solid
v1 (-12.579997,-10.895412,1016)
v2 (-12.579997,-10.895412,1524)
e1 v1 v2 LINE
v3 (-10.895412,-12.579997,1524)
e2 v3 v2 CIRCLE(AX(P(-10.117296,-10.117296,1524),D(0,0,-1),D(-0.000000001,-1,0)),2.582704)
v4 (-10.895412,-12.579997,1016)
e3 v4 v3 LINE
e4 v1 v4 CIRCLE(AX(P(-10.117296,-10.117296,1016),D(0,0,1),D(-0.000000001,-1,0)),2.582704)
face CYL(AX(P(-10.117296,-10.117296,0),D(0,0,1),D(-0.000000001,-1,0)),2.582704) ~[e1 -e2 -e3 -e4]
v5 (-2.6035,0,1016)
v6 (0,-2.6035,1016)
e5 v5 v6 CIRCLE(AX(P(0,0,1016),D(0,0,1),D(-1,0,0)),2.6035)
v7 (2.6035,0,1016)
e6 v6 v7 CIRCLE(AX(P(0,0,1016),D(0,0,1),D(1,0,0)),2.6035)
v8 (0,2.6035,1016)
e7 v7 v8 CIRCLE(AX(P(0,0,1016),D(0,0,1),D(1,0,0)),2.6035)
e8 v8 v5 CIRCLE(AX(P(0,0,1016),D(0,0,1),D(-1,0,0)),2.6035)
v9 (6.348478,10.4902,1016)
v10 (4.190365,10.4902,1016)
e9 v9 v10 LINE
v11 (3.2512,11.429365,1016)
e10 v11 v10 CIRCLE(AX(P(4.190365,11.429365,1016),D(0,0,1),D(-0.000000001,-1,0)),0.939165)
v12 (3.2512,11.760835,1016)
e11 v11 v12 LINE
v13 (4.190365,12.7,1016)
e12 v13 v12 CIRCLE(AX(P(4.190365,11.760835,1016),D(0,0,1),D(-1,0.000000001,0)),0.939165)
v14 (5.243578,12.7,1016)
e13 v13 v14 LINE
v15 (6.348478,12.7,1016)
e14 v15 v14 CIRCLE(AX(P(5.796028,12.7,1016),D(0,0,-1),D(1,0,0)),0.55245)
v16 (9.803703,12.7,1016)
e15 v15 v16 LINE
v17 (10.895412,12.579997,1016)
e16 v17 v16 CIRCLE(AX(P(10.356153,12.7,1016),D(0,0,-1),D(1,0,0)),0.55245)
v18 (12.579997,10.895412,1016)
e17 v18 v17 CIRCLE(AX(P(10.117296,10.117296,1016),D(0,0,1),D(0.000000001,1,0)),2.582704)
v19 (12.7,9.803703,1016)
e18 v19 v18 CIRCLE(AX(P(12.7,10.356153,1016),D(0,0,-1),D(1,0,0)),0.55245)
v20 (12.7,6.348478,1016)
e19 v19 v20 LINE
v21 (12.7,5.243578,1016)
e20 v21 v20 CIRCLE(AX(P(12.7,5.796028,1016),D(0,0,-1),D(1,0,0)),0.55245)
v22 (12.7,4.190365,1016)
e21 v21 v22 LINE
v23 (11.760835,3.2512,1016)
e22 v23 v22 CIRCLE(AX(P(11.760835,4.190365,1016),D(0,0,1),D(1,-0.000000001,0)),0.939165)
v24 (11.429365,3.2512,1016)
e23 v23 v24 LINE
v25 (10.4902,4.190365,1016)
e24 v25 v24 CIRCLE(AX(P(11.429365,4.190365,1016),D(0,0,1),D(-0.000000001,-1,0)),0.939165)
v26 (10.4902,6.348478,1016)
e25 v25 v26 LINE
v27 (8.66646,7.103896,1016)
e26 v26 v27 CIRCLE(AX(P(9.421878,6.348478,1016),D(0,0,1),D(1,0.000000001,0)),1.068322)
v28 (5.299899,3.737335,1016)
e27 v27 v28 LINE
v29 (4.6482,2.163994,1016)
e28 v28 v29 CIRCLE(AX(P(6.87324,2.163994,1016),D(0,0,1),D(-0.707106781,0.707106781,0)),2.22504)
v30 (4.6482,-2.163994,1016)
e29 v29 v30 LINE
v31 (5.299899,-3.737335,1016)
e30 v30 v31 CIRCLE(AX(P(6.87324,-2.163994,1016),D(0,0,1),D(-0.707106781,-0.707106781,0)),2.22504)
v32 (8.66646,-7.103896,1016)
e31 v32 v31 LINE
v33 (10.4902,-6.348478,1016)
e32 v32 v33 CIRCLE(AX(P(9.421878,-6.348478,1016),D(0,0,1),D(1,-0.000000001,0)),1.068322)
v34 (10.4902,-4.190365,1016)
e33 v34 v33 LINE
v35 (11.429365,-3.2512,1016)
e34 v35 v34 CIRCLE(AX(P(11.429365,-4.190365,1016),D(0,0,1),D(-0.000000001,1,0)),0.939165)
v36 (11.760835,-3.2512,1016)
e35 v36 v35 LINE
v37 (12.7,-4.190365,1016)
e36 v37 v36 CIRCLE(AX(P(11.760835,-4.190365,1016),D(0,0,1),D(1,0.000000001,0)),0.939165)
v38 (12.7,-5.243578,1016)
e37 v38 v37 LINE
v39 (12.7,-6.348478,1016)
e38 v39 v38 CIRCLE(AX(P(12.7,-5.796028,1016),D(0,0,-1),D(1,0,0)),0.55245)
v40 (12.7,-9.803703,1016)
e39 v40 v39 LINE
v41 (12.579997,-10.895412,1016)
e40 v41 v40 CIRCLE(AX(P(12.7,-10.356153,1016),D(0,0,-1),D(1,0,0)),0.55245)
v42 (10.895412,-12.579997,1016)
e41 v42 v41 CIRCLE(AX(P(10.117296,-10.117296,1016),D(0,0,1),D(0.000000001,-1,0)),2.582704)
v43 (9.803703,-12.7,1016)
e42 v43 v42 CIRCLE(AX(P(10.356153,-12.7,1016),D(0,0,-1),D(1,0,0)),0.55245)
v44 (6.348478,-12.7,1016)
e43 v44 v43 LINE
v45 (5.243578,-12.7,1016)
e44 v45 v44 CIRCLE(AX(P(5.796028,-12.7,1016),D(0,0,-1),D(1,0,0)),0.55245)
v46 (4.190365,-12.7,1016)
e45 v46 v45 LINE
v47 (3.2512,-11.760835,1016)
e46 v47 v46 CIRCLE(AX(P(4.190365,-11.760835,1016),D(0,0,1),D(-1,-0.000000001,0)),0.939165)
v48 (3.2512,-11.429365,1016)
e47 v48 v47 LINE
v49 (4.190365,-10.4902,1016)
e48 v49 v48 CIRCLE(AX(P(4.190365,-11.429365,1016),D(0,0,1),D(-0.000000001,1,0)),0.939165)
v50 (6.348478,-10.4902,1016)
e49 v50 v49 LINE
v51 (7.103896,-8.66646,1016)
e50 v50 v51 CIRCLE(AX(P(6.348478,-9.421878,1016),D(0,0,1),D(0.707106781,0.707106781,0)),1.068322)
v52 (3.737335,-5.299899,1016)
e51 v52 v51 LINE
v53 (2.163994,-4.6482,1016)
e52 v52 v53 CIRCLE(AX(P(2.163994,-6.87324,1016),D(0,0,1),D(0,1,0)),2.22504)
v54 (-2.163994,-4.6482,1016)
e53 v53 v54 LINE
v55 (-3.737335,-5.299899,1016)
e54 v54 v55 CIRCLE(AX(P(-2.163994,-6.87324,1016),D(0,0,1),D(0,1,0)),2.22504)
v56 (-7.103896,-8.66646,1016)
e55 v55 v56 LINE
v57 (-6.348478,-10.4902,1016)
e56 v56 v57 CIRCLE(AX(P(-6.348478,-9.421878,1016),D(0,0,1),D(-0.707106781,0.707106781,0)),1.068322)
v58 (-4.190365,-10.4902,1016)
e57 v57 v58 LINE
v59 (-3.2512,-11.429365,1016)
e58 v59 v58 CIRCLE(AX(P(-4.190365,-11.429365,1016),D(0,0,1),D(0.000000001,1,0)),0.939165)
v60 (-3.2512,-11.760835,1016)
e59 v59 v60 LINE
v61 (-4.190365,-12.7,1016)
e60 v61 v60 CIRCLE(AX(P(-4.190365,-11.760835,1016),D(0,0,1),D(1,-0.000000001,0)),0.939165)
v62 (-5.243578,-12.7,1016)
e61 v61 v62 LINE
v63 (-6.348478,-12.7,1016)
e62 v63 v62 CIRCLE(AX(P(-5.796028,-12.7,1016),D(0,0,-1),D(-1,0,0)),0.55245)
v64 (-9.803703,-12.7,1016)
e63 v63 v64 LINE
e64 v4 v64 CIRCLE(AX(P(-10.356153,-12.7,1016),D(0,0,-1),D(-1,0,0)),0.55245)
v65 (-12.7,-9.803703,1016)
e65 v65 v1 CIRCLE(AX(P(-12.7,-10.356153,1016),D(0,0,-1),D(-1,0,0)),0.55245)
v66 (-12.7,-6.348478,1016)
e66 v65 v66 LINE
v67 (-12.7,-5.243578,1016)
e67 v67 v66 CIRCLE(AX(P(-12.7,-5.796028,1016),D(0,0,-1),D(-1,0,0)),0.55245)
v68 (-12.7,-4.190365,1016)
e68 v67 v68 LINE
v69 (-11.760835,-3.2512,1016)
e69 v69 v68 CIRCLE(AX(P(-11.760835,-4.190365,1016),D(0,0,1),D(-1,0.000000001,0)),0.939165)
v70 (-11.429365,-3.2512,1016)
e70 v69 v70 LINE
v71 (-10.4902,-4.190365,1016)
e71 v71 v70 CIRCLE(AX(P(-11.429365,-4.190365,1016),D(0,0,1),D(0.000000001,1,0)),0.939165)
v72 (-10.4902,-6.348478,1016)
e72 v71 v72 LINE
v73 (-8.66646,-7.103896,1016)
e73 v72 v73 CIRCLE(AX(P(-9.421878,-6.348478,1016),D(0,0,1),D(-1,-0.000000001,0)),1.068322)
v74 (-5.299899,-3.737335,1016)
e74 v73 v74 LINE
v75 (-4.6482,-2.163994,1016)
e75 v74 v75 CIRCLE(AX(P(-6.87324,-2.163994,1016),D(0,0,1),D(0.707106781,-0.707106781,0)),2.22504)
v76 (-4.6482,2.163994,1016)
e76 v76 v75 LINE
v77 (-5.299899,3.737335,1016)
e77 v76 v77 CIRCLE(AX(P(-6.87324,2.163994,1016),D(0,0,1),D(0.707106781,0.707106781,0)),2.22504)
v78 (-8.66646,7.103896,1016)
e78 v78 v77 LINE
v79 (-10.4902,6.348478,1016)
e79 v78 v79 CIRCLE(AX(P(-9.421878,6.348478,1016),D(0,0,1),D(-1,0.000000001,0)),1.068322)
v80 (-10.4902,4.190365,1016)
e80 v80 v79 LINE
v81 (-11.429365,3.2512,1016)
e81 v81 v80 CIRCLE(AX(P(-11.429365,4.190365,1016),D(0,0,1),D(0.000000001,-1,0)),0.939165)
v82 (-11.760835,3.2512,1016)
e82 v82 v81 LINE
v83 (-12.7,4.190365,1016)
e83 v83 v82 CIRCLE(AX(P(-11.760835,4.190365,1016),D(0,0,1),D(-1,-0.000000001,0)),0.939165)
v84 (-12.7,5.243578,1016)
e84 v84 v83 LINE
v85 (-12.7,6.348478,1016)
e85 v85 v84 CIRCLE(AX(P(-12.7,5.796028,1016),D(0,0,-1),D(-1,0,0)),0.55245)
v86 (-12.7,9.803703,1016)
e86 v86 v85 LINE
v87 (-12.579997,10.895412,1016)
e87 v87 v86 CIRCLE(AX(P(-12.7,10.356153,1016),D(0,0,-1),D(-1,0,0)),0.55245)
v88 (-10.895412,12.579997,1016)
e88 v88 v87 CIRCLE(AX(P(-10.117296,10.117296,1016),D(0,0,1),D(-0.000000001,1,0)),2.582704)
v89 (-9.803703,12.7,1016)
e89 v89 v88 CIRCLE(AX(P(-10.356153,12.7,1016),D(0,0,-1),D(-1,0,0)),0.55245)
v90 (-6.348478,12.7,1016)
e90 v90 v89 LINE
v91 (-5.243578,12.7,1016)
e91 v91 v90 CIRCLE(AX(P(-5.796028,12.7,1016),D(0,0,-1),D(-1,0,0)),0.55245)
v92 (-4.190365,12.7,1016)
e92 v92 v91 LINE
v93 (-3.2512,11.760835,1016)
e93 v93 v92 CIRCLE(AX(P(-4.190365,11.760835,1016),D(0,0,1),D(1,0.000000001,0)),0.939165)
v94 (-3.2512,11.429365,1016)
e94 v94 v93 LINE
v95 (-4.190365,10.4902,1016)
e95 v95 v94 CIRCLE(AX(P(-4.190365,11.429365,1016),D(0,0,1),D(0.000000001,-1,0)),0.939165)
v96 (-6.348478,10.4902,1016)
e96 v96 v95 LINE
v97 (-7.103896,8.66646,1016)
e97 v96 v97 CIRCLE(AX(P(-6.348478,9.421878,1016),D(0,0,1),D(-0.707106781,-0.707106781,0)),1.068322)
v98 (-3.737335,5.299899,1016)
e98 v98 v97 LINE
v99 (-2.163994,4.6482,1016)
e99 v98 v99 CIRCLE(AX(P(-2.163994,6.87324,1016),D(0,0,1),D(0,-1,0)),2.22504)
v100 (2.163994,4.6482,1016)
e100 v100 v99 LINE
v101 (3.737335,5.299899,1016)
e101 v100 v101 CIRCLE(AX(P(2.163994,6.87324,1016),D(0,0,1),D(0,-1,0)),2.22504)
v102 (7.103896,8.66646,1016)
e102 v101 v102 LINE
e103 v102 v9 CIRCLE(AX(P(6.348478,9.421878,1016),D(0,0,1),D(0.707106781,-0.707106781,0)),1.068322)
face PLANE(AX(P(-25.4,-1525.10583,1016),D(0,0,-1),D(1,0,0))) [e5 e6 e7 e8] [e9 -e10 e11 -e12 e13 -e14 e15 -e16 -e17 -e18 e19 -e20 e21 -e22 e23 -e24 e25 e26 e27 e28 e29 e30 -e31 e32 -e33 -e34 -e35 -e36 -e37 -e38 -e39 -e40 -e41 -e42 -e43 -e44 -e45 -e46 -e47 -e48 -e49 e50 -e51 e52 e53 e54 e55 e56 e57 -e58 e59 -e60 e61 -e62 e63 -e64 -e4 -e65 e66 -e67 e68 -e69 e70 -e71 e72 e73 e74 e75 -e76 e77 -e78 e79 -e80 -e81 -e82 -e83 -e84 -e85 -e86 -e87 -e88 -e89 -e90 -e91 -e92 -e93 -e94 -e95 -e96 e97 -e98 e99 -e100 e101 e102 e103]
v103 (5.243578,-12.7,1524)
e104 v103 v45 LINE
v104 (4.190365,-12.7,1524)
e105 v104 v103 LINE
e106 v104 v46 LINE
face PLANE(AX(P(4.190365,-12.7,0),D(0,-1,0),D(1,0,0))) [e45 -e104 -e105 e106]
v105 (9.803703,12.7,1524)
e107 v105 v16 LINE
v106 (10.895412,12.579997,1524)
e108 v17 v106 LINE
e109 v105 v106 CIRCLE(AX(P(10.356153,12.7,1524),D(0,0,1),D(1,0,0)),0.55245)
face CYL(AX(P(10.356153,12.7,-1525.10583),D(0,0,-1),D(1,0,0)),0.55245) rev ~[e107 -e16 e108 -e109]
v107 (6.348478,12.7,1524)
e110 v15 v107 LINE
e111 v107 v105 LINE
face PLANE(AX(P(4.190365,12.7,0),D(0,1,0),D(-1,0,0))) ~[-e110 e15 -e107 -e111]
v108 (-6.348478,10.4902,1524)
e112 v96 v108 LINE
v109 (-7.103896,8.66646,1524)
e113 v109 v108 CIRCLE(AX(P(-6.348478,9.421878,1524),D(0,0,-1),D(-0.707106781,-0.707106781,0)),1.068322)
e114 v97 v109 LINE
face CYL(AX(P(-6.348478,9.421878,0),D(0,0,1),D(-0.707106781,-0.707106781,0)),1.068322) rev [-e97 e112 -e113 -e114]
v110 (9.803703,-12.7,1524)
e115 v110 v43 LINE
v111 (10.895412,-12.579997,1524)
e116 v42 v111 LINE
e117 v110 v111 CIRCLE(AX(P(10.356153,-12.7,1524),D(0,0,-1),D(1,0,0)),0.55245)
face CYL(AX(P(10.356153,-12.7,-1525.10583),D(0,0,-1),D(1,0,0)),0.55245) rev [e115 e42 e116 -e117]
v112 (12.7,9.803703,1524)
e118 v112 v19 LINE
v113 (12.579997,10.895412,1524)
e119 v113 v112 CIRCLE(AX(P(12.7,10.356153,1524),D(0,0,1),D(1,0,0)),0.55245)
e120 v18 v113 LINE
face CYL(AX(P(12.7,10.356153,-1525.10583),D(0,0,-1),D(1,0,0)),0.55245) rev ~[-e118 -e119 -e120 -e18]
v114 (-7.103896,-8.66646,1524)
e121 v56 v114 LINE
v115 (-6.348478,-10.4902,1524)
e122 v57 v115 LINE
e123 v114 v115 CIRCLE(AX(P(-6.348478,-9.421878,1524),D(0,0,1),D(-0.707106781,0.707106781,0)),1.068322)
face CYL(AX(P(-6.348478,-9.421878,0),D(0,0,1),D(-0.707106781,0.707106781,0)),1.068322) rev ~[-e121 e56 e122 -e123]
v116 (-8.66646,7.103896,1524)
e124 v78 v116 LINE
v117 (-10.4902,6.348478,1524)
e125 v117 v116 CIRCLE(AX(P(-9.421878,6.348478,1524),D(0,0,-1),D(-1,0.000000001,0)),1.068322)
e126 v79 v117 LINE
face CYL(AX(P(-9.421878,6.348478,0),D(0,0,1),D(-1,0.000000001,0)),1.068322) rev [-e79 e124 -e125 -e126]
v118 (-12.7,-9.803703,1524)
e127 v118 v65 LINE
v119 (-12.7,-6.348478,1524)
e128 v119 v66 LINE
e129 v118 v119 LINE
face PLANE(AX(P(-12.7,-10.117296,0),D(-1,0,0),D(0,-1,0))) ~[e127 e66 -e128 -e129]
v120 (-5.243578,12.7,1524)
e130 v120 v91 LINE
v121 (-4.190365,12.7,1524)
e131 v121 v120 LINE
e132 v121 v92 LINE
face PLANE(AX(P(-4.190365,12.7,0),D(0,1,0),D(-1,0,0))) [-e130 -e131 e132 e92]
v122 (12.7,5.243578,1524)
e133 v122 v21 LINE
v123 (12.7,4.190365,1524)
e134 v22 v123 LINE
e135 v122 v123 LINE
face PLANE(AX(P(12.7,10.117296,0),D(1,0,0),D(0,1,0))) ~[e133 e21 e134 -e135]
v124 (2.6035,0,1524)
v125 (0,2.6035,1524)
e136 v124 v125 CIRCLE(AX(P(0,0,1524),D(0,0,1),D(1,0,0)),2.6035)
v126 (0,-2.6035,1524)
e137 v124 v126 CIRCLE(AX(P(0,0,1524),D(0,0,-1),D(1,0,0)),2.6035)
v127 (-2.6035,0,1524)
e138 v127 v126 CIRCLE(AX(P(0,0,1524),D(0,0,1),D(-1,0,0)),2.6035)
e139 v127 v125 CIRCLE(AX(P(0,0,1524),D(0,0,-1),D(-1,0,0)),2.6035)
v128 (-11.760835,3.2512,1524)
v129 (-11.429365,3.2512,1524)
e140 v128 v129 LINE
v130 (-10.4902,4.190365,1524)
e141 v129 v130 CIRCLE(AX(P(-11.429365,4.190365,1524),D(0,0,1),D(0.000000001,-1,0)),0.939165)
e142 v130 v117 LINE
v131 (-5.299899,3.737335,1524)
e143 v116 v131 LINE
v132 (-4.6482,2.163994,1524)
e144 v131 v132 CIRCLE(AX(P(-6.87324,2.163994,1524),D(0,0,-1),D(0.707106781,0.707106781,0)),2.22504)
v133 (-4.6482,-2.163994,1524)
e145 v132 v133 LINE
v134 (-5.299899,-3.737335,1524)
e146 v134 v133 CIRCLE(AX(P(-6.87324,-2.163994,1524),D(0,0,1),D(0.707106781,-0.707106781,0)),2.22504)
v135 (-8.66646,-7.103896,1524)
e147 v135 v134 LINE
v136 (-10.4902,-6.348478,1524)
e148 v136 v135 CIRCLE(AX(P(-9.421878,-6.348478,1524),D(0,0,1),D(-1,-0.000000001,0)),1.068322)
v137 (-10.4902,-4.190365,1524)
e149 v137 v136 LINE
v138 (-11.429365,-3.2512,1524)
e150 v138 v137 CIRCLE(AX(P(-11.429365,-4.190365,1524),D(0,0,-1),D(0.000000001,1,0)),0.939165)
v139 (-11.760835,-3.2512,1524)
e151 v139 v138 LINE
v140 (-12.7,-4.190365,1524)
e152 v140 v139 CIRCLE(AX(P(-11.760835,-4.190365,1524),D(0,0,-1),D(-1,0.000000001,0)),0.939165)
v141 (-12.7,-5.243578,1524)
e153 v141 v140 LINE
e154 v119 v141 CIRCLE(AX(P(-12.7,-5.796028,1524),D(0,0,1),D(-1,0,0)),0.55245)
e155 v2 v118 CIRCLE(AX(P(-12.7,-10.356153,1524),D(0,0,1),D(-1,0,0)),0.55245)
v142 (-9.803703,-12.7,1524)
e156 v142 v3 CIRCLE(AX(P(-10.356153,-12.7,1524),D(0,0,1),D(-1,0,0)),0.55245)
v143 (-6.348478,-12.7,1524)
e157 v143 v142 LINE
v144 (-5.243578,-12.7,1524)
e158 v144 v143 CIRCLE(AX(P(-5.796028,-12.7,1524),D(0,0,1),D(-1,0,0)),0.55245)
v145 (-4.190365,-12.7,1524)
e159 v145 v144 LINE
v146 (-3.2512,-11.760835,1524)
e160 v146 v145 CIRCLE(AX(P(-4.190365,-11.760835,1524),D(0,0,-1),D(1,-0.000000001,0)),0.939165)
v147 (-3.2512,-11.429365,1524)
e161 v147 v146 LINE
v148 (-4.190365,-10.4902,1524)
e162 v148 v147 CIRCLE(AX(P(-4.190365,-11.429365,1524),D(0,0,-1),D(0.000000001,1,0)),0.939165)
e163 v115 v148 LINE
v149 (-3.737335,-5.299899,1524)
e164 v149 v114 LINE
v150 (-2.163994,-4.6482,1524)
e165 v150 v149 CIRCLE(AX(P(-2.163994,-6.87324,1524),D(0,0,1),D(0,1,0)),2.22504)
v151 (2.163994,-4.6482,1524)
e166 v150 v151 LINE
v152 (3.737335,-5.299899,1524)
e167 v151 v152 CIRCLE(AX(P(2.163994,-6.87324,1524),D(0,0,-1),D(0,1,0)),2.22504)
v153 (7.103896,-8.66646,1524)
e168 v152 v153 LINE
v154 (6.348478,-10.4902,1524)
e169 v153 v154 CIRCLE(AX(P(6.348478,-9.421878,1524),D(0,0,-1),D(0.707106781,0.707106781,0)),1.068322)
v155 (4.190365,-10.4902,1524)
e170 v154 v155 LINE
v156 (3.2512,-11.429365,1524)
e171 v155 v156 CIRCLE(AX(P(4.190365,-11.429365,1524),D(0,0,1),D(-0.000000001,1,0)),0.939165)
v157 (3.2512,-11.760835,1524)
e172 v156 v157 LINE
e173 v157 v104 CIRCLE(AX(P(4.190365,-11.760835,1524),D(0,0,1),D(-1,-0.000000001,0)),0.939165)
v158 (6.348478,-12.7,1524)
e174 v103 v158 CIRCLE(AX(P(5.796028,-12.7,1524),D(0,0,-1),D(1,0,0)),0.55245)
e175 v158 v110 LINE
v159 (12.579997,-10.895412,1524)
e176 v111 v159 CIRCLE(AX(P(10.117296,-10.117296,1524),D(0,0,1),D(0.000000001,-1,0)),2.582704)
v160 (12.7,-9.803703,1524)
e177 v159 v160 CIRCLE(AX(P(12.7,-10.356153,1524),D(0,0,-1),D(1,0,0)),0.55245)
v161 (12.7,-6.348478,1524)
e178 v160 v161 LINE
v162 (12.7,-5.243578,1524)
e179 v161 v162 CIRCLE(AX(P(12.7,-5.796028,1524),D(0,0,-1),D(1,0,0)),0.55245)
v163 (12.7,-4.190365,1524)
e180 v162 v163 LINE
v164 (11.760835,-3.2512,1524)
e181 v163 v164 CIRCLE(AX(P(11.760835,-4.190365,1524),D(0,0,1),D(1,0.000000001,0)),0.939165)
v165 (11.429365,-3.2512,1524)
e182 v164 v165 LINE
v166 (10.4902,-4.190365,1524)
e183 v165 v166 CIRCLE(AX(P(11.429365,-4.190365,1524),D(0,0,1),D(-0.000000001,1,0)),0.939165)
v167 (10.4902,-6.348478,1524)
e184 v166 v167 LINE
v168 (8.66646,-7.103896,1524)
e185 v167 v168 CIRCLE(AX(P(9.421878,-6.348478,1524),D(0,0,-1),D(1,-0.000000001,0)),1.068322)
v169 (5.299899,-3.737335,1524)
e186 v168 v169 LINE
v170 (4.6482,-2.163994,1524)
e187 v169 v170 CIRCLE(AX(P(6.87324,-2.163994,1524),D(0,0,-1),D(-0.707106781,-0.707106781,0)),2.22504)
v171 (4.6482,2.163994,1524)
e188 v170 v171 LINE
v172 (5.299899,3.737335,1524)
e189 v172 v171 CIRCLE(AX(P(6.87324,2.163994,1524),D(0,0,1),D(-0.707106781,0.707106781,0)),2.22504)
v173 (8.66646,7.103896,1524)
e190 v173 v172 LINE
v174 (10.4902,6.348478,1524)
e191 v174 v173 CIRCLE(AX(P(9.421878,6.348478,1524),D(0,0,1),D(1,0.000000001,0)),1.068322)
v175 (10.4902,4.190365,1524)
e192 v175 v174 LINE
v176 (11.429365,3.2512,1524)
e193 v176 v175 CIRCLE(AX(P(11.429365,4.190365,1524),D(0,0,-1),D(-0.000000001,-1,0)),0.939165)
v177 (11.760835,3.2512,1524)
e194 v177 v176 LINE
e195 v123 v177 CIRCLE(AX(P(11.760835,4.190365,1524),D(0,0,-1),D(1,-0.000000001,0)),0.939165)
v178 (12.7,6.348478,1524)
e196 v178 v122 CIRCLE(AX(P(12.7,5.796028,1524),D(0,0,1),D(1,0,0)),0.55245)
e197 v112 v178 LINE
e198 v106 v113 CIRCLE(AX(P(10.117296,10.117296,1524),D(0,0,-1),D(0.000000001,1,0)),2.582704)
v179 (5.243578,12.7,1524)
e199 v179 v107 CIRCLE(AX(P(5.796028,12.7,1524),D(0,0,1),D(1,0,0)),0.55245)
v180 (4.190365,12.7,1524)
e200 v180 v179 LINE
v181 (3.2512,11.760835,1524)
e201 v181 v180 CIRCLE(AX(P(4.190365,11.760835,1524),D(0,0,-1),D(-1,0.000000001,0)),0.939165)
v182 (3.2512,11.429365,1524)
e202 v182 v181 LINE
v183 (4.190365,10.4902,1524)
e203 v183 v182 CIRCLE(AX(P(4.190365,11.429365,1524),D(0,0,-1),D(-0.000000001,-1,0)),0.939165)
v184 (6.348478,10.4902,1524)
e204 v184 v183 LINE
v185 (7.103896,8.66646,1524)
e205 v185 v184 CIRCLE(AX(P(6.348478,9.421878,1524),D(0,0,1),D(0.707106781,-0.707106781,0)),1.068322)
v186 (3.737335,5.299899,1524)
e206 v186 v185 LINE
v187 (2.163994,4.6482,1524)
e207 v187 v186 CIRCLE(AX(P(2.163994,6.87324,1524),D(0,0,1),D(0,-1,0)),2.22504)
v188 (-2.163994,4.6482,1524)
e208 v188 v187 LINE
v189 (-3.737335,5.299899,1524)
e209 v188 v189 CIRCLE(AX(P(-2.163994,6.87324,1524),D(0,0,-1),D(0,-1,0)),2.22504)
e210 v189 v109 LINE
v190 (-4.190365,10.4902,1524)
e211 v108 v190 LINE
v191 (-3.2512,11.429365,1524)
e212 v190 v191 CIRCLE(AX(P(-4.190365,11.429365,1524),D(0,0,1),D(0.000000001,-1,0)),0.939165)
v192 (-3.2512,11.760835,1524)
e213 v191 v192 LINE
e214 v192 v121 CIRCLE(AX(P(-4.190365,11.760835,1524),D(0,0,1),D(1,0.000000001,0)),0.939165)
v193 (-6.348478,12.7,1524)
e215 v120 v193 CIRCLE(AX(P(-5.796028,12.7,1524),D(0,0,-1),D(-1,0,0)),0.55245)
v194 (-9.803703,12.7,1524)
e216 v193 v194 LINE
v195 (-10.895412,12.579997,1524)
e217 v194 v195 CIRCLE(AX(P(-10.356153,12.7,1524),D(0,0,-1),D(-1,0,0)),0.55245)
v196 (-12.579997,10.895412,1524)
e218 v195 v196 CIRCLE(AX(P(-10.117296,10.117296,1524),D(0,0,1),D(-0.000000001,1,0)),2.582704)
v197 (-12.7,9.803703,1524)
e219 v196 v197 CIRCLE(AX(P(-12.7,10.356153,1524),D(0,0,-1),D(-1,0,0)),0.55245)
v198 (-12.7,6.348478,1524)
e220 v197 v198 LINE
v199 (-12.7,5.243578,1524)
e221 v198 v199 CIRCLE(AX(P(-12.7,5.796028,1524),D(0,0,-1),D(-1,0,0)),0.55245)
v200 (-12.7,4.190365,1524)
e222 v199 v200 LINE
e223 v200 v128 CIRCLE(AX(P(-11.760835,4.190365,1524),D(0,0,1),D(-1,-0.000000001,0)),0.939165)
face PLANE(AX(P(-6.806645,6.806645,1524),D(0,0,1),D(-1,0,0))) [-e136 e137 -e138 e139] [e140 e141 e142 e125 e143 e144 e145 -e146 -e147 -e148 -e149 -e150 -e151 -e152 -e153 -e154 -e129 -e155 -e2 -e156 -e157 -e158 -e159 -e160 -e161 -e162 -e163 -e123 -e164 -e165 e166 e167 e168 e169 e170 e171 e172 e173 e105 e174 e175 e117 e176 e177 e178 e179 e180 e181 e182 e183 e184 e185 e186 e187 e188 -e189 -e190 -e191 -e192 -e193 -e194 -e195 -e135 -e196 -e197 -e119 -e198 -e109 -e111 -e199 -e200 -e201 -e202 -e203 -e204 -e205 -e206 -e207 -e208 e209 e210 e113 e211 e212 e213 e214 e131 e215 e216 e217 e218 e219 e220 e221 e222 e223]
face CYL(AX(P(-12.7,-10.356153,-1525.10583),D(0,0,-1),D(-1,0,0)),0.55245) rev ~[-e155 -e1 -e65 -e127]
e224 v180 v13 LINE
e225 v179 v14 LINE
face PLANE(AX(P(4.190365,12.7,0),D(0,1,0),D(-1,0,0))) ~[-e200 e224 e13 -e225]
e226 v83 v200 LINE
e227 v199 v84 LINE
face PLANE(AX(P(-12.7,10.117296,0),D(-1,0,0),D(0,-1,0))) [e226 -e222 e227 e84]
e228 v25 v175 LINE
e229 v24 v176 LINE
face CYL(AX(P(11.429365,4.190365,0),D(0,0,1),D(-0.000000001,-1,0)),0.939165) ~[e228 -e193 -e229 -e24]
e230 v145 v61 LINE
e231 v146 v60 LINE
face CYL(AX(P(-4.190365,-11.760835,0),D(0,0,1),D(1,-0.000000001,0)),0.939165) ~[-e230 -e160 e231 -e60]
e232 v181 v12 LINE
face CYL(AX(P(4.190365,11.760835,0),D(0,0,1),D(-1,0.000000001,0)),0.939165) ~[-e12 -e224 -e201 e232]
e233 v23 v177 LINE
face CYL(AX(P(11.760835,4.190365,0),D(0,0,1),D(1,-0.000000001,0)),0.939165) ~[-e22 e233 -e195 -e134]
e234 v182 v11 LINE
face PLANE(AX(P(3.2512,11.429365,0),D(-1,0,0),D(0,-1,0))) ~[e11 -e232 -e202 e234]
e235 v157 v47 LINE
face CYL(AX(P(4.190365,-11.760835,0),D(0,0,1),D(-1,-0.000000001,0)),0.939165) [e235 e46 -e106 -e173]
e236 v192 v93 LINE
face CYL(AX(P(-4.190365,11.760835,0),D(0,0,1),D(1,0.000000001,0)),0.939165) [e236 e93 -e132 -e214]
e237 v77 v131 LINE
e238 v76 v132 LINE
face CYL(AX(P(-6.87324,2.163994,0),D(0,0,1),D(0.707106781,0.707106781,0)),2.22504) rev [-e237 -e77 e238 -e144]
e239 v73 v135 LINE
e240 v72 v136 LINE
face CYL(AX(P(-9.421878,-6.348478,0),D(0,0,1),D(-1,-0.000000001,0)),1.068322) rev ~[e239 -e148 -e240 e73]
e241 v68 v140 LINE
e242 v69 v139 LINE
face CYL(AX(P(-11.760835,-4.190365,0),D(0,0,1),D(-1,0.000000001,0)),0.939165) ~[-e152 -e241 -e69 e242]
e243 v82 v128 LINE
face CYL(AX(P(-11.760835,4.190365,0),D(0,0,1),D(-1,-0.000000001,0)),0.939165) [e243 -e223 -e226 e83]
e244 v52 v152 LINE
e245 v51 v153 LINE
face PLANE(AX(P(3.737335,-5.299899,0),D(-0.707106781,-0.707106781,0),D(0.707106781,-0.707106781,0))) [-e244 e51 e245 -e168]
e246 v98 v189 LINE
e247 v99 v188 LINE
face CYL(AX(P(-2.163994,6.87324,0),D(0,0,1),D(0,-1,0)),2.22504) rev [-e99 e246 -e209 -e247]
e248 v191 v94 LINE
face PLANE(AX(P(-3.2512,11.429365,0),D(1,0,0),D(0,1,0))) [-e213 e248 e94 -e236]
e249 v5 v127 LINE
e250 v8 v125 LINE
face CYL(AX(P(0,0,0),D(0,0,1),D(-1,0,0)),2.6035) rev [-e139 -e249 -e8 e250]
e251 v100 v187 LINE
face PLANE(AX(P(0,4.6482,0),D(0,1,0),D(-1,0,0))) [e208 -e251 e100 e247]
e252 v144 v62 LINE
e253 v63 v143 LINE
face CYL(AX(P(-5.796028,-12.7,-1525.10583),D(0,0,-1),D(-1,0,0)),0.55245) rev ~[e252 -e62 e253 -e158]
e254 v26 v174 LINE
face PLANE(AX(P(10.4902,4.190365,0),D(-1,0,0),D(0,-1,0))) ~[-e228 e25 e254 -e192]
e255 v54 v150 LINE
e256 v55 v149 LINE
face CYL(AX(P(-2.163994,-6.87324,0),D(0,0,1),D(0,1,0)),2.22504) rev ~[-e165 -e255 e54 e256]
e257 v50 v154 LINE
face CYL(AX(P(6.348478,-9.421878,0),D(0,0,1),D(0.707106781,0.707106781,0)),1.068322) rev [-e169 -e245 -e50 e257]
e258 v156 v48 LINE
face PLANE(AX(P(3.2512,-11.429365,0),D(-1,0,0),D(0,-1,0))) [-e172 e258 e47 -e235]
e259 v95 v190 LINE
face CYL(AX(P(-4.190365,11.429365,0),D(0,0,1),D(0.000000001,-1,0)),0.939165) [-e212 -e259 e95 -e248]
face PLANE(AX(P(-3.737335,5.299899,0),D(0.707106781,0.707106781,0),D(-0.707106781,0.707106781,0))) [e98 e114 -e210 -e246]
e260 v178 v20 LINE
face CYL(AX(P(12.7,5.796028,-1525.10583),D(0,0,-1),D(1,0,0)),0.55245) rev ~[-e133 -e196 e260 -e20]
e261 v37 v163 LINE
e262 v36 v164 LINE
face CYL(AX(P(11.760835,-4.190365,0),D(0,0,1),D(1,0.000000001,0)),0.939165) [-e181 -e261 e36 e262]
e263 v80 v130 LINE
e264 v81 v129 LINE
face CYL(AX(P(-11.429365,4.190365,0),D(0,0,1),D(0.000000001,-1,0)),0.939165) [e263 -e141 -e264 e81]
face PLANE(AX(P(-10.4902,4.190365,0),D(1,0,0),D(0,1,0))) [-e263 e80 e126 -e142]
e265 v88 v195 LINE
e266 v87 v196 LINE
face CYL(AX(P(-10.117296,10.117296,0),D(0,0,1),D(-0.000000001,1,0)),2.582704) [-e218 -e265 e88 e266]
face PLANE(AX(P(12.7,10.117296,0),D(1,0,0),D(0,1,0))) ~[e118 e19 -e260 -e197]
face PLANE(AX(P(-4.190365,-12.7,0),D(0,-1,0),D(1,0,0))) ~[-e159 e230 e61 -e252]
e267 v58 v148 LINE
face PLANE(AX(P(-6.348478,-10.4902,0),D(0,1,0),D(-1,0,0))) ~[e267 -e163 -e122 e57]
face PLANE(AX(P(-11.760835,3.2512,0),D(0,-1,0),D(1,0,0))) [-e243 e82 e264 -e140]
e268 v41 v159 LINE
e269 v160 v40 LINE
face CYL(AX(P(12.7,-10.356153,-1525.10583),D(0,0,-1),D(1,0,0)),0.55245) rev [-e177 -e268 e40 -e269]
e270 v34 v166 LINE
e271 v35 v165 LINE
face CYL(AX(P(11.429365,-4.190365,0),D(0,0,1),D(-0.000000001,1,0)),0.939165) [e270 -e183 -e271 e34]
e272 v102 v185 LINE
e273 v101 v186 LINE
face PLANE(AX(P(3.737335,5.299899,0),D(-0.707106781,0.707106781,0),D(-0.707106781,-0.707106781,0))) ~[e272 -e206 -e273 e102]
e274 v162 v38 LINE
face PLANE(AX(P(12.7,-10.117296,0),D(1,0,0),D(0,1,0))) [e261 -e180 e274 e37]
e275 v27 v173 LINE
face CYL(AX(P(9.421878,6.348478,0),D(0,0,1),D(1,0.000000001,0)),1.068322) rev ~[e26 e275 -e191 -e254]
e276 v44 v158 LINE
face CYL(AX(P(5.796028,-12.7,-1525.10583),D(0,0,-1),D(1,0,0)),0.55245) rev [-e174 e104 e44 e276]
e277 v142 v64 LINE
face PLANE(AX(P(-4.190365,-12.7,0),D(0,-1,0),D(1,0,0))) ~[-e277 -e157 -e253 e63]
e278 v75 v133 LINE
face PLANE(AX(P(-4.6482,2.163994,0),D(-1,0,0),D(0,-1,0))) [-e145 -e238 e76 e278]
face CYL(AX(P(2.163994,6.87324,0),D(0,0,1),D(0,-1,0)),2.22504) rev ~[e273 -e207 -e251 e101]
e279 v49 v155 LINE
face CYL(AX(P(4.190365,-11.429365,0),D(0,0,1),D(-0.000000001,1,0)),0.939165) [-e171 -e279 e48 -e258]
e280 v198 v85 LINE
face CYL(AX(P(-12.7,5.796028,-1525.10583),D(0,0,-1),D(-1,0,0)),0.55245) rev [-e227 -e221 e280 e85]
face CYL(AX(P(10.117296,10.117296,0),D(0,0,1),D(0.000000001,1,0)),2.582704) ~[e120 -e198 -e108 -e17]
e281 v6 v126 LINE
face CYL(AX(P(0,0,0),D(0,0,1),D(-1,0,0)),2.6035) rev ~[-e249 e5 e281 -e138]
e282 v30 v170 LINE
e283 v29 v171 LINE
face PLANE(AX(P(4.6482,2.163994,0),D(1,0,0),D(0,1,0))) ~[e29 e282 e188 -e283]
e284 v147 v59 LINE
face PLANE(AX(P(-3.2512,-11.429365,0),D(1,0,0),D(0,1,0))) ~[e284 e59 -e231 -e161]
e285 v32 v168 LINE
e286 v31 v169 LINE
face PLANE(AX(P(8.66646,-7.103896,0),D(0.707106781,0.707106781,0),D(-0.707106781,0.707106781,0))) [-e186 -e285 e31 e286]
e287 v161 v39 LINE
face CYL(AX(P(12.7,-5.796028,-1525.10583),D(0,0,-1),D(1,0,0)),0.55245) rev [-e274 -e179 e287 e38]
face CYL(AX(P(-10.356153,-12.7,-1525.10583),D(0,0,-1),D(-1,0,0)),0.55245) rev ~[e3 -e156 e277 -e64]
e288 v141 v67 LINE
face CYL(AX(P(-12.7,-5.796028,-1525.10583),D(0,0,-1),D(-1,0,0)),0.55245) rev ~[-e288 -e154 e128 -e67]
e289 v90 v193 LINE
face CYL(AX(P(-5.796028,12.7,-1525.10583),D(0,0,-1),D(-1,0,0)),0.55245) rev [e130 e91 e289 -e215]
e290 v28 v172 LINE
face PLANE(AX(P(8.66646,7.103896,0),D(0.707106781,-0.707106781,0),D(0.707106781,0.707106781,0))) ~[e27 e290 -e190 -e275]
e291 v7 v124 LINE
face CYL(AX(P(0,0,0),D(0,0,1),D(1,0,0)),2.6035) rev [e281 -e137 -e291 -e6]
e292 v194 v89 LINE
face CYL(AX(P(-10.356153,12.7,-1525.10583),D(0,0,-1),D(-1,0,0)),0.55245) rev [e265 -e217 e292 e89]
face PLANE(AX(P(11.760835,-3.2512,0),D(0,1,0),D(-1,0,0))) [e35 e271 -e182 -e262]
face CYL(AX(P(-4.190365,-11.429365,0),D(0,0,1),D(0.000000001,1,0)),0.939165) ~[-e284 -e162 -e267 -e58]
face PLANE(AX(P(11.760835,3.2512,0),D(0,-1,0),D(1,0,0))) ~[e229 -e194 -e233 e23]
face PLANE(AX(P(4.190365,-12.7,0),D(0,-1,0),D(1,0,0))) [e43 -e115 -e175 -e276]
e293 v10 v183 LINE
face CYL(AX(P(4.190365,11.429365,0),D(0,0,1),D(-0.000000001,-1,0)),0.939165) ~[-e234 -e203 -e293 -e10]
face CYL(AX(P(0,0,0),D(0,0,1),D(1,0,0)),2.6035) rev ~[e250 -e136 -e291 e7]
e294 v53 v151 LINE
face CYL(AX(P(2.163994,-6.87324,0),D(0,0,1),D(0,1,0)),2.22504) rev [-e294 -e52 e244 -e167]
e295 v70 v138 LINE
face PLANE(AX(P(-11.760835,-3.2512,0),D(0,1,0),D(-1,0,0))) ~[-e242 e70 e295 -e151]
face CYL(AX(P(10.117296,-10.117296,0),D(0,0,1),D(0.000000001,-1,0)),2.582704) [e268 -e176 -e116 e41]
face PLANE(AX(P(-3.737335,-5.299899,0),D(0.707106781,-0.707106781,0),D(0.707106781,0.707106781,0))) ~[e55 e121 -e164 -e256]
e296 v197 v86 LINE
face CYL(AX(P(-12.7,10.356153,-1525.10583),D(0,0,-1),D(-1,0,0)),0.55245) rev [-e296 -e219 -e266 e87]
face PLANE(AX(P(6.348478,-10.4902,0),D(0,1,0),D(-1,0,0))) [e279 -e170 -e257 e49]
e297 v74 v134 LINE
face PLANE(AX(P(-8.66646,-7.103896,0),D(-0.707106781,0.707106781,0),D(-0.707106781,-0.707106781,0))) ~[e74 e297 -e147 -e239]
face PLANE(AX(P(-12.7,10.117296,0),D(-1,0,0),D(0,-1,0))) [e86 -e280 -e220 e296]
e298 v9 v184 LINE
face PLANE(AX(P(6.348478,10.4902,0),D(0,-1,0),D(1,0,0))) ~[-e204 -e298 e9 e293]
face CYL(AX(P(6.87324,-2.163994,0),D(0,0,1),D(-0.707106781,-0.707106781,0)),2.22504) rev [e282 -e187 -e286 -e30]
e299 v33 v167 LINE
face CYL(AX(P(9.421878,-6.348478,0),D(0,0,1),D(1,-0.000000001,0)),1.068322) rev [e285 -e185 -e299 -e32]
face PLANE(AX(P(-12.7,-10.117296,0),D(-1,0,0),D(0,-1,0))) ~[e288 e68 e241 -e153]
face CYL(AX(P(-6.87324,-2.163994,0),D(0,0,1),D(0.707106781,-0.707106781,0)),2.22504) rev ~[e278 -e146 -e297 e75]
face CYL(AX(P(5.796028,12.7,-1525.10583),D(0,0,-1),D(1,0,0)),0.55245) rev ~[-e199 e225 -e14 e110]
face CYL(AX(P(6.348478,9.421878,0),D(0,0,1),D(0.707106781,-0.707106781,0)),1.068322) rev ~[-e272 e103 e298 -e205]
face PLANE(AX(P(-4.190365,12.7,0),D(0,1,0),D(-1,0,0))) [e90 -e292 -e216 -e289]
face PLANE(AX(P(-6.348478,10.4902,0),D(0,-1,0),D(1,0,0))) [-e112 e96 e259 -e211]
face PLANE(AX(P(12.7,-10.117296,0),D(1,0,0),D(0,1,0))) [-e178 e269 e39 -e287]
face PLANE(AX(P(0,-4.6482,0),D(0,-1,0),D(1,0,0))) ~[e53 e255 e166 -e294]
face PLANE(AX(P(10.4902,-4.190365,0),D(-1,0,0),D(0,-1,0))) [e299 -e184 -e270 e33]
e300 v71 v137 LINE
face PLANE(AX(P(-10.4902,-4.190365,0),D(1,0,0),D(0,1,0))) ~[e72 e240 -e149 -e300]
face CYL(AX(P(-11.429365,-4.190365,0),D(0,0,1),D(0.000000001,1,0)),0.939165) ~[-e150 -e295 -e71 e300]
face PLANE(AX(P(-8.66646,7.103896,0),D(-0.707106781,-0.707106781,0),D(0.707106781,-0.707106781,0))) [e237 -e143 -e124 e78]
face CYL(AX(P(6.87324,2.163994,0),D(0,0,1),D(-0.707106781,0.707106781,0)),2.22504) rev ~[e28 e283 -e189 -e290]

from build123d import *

# Parameters (mm, degrees)
BOSS_EXTRUDE1_DEPTH     = 1524
CUT_EXTRUDE1_DEPTH      = 1525.105829659
CUT_EXTRUDE1_DEPTH_BACK = 1525.105829659
SKETCH5_R               = 0.55245
CUT_EXTRUDE2_DEPTH      = 1525.105829659
CUT_EXTRUDE2_DEPTH_BACK = 1525.105829659
SKETCH8_W               = 50.559993734
SKETCH8_H               = 1231.9
CUT_EXTRUDE3_DEPTH      = 1525.105829659
CUT_EXTRUDE3_DEPTH_BACK = 1525.105829659
SKETCH9_W               = 50.679996867
SKETCH9_H               = 1333.5


with BuildPart() as part:
    # Sketch4 → Boss-Extrude1 (new, symmetric)
    with BuildSketch(Plane.XY):
        with BuildLine():
            Line((4.190365, -12.7), (10.11729625, -12.7))
            ThreePointArc((10.11729625, -12.7), (11.943543585, -11.943543585), (12.7, -10.11729625))
            Line((12.7, -10.11729625), (12.7, -4.190365))
            ThreePointArc((12.7, -4.190365), (12.42492494, -3.52627506), (11.760835, -3.2512))
            Line((11.760835, -3.2512), (11.429365, -3.2512))
            ThreePointArc((11.429365, -3.2512), (10.76527506, -3.52627506), (10.4902, -4.190365))
            Line((10.4902, -4.190365), (10.4902, -6.348478019))
            ThreePointArc((10.4902, -6.348478019), (9.830707141, -7.335478831), (8.666460301, -7.103895736))
            Line((8.666460301, -7.103895736), (5.299899128, -3.737334563))
            ThreePointArc((5.299899128, -3.737334563), (4.817571085, -3.015479634), (4.6482, -2.16399369))
            Line((4.6482, -2.16399369), (4.6482, 0))
            Line((4.6482, 0), (2.6035, 0))
            ThreePointArc((2.6035, 0), (1.840952505, -1.840952505), (0, -2.6035))
            Line((0, -2.6035), (0, -4.6482))
            Line((0, -4.6482), (2.16399369, -4.6482))
            ThreePointArc((2.16399369, -4.6482), (3.015479634, -4.817571085), (3.737334563, -5.299899128))
            Line((3.737334563, -5.299899128), (7.103895736, -8.666460301))
            ThreePointArc((7.103895736, -8.666460301), (7.335478831, -9.830707141), (6.348478019, -10.4902))
            Line((6.348478019, -10.4902), (4.190365, -10.4902))
            ThreePointArc((4.190365, -10.4902), (3.52627506, -10.76527506), (3.2512, -11.429365))
            Line((3.2512, -11.429365), (3.2512, -11.760835))
            ThreePointArc((3.2512, -11.760835), (3.52627506, -12.42492494), (4.190365, -12.7))
        make_face()
    extrude(amount=BOSS_EXTRUDE1_DEPTH, both=True)

    # Sketch5 → Cut-Extrude1 (cut, two sides: drawn at the far end of the back side and taken through both)
    with BuildSketch(Plane.XY.offset(-CUT_EXTRUDE1_DEPTH_BACK)):
        with Locations((10.356153152, -12.7)):
            Circle(SKETCH5_R)
        with Locations((5.796028019, -12.7)):
            Circle(SKETCH5_R)
        with Locations((12.7, -10.356153152)):
            Circle(SKETCH5_R)
        with Locations((12.7, -5.796028019)):
            Circle(SKETCH5_R)
    extrude(amount=CUT_EXTRUDE1_DEPTH + CUT_EXTRUDE1_DEPTH_BACK, mode=Mode.SUBTRACT)

    # Mirror1: part across plane


with BuildPart() as part_1:
    add(part.part)
    add(part.part.mirror(Plane(origin=(0, 0, 0), x_dir=(0, 0, 1), z_dir=(1, 0, 0))))

    # Mirror2: part across plane


with BuildPart() as part_2:
    add(part_1.part)
    add(part_1.part.mirror(Plane.ZX))

    # Sketch8 → Cut-Extrude2 (cut, two sides: drawn at the far end of the back side and taken through both)
    with BuildSketch(Plane(origin=(0, 0, 0), x_dir=(1, 0, 0), z_dir=(0, 1, 0)).offset(-CUT_EXTRUDE2_DEPTH_BACK)):
        with Locations((0, 920.75)):
            Rectangle(SKETCH8_W, SKETCH8_H)
    extrude(amount=CUT_EXTRUDE2_DEPTH + CUT_EXTRUDE2_DEPTH_BACK, mode=Mode.SUBTRACT)

    # Sketch9 → Cut-Extrude3 (cut, two sides: drawn at the far end of the back side and taken through both)
    with BuildSketch(Plane(origin=(0, 0, 0), x_dir=(1, 0, 0), z_dir=(0, 1, 0)).offset(-CUT_EXTRUDE3_DEPTH_BACK)):
        with Locations((-0.060001567, -349.25)):
            Rectangle(SKETCH9_W, SKETCH9_H)
    extrude(amount=CUT_EXTRUDE3_DEPTH + CUT_EXTRUDE3_DEPTH_BACK, mode=Mode.SUBTRACT)


solid = part_2.part
